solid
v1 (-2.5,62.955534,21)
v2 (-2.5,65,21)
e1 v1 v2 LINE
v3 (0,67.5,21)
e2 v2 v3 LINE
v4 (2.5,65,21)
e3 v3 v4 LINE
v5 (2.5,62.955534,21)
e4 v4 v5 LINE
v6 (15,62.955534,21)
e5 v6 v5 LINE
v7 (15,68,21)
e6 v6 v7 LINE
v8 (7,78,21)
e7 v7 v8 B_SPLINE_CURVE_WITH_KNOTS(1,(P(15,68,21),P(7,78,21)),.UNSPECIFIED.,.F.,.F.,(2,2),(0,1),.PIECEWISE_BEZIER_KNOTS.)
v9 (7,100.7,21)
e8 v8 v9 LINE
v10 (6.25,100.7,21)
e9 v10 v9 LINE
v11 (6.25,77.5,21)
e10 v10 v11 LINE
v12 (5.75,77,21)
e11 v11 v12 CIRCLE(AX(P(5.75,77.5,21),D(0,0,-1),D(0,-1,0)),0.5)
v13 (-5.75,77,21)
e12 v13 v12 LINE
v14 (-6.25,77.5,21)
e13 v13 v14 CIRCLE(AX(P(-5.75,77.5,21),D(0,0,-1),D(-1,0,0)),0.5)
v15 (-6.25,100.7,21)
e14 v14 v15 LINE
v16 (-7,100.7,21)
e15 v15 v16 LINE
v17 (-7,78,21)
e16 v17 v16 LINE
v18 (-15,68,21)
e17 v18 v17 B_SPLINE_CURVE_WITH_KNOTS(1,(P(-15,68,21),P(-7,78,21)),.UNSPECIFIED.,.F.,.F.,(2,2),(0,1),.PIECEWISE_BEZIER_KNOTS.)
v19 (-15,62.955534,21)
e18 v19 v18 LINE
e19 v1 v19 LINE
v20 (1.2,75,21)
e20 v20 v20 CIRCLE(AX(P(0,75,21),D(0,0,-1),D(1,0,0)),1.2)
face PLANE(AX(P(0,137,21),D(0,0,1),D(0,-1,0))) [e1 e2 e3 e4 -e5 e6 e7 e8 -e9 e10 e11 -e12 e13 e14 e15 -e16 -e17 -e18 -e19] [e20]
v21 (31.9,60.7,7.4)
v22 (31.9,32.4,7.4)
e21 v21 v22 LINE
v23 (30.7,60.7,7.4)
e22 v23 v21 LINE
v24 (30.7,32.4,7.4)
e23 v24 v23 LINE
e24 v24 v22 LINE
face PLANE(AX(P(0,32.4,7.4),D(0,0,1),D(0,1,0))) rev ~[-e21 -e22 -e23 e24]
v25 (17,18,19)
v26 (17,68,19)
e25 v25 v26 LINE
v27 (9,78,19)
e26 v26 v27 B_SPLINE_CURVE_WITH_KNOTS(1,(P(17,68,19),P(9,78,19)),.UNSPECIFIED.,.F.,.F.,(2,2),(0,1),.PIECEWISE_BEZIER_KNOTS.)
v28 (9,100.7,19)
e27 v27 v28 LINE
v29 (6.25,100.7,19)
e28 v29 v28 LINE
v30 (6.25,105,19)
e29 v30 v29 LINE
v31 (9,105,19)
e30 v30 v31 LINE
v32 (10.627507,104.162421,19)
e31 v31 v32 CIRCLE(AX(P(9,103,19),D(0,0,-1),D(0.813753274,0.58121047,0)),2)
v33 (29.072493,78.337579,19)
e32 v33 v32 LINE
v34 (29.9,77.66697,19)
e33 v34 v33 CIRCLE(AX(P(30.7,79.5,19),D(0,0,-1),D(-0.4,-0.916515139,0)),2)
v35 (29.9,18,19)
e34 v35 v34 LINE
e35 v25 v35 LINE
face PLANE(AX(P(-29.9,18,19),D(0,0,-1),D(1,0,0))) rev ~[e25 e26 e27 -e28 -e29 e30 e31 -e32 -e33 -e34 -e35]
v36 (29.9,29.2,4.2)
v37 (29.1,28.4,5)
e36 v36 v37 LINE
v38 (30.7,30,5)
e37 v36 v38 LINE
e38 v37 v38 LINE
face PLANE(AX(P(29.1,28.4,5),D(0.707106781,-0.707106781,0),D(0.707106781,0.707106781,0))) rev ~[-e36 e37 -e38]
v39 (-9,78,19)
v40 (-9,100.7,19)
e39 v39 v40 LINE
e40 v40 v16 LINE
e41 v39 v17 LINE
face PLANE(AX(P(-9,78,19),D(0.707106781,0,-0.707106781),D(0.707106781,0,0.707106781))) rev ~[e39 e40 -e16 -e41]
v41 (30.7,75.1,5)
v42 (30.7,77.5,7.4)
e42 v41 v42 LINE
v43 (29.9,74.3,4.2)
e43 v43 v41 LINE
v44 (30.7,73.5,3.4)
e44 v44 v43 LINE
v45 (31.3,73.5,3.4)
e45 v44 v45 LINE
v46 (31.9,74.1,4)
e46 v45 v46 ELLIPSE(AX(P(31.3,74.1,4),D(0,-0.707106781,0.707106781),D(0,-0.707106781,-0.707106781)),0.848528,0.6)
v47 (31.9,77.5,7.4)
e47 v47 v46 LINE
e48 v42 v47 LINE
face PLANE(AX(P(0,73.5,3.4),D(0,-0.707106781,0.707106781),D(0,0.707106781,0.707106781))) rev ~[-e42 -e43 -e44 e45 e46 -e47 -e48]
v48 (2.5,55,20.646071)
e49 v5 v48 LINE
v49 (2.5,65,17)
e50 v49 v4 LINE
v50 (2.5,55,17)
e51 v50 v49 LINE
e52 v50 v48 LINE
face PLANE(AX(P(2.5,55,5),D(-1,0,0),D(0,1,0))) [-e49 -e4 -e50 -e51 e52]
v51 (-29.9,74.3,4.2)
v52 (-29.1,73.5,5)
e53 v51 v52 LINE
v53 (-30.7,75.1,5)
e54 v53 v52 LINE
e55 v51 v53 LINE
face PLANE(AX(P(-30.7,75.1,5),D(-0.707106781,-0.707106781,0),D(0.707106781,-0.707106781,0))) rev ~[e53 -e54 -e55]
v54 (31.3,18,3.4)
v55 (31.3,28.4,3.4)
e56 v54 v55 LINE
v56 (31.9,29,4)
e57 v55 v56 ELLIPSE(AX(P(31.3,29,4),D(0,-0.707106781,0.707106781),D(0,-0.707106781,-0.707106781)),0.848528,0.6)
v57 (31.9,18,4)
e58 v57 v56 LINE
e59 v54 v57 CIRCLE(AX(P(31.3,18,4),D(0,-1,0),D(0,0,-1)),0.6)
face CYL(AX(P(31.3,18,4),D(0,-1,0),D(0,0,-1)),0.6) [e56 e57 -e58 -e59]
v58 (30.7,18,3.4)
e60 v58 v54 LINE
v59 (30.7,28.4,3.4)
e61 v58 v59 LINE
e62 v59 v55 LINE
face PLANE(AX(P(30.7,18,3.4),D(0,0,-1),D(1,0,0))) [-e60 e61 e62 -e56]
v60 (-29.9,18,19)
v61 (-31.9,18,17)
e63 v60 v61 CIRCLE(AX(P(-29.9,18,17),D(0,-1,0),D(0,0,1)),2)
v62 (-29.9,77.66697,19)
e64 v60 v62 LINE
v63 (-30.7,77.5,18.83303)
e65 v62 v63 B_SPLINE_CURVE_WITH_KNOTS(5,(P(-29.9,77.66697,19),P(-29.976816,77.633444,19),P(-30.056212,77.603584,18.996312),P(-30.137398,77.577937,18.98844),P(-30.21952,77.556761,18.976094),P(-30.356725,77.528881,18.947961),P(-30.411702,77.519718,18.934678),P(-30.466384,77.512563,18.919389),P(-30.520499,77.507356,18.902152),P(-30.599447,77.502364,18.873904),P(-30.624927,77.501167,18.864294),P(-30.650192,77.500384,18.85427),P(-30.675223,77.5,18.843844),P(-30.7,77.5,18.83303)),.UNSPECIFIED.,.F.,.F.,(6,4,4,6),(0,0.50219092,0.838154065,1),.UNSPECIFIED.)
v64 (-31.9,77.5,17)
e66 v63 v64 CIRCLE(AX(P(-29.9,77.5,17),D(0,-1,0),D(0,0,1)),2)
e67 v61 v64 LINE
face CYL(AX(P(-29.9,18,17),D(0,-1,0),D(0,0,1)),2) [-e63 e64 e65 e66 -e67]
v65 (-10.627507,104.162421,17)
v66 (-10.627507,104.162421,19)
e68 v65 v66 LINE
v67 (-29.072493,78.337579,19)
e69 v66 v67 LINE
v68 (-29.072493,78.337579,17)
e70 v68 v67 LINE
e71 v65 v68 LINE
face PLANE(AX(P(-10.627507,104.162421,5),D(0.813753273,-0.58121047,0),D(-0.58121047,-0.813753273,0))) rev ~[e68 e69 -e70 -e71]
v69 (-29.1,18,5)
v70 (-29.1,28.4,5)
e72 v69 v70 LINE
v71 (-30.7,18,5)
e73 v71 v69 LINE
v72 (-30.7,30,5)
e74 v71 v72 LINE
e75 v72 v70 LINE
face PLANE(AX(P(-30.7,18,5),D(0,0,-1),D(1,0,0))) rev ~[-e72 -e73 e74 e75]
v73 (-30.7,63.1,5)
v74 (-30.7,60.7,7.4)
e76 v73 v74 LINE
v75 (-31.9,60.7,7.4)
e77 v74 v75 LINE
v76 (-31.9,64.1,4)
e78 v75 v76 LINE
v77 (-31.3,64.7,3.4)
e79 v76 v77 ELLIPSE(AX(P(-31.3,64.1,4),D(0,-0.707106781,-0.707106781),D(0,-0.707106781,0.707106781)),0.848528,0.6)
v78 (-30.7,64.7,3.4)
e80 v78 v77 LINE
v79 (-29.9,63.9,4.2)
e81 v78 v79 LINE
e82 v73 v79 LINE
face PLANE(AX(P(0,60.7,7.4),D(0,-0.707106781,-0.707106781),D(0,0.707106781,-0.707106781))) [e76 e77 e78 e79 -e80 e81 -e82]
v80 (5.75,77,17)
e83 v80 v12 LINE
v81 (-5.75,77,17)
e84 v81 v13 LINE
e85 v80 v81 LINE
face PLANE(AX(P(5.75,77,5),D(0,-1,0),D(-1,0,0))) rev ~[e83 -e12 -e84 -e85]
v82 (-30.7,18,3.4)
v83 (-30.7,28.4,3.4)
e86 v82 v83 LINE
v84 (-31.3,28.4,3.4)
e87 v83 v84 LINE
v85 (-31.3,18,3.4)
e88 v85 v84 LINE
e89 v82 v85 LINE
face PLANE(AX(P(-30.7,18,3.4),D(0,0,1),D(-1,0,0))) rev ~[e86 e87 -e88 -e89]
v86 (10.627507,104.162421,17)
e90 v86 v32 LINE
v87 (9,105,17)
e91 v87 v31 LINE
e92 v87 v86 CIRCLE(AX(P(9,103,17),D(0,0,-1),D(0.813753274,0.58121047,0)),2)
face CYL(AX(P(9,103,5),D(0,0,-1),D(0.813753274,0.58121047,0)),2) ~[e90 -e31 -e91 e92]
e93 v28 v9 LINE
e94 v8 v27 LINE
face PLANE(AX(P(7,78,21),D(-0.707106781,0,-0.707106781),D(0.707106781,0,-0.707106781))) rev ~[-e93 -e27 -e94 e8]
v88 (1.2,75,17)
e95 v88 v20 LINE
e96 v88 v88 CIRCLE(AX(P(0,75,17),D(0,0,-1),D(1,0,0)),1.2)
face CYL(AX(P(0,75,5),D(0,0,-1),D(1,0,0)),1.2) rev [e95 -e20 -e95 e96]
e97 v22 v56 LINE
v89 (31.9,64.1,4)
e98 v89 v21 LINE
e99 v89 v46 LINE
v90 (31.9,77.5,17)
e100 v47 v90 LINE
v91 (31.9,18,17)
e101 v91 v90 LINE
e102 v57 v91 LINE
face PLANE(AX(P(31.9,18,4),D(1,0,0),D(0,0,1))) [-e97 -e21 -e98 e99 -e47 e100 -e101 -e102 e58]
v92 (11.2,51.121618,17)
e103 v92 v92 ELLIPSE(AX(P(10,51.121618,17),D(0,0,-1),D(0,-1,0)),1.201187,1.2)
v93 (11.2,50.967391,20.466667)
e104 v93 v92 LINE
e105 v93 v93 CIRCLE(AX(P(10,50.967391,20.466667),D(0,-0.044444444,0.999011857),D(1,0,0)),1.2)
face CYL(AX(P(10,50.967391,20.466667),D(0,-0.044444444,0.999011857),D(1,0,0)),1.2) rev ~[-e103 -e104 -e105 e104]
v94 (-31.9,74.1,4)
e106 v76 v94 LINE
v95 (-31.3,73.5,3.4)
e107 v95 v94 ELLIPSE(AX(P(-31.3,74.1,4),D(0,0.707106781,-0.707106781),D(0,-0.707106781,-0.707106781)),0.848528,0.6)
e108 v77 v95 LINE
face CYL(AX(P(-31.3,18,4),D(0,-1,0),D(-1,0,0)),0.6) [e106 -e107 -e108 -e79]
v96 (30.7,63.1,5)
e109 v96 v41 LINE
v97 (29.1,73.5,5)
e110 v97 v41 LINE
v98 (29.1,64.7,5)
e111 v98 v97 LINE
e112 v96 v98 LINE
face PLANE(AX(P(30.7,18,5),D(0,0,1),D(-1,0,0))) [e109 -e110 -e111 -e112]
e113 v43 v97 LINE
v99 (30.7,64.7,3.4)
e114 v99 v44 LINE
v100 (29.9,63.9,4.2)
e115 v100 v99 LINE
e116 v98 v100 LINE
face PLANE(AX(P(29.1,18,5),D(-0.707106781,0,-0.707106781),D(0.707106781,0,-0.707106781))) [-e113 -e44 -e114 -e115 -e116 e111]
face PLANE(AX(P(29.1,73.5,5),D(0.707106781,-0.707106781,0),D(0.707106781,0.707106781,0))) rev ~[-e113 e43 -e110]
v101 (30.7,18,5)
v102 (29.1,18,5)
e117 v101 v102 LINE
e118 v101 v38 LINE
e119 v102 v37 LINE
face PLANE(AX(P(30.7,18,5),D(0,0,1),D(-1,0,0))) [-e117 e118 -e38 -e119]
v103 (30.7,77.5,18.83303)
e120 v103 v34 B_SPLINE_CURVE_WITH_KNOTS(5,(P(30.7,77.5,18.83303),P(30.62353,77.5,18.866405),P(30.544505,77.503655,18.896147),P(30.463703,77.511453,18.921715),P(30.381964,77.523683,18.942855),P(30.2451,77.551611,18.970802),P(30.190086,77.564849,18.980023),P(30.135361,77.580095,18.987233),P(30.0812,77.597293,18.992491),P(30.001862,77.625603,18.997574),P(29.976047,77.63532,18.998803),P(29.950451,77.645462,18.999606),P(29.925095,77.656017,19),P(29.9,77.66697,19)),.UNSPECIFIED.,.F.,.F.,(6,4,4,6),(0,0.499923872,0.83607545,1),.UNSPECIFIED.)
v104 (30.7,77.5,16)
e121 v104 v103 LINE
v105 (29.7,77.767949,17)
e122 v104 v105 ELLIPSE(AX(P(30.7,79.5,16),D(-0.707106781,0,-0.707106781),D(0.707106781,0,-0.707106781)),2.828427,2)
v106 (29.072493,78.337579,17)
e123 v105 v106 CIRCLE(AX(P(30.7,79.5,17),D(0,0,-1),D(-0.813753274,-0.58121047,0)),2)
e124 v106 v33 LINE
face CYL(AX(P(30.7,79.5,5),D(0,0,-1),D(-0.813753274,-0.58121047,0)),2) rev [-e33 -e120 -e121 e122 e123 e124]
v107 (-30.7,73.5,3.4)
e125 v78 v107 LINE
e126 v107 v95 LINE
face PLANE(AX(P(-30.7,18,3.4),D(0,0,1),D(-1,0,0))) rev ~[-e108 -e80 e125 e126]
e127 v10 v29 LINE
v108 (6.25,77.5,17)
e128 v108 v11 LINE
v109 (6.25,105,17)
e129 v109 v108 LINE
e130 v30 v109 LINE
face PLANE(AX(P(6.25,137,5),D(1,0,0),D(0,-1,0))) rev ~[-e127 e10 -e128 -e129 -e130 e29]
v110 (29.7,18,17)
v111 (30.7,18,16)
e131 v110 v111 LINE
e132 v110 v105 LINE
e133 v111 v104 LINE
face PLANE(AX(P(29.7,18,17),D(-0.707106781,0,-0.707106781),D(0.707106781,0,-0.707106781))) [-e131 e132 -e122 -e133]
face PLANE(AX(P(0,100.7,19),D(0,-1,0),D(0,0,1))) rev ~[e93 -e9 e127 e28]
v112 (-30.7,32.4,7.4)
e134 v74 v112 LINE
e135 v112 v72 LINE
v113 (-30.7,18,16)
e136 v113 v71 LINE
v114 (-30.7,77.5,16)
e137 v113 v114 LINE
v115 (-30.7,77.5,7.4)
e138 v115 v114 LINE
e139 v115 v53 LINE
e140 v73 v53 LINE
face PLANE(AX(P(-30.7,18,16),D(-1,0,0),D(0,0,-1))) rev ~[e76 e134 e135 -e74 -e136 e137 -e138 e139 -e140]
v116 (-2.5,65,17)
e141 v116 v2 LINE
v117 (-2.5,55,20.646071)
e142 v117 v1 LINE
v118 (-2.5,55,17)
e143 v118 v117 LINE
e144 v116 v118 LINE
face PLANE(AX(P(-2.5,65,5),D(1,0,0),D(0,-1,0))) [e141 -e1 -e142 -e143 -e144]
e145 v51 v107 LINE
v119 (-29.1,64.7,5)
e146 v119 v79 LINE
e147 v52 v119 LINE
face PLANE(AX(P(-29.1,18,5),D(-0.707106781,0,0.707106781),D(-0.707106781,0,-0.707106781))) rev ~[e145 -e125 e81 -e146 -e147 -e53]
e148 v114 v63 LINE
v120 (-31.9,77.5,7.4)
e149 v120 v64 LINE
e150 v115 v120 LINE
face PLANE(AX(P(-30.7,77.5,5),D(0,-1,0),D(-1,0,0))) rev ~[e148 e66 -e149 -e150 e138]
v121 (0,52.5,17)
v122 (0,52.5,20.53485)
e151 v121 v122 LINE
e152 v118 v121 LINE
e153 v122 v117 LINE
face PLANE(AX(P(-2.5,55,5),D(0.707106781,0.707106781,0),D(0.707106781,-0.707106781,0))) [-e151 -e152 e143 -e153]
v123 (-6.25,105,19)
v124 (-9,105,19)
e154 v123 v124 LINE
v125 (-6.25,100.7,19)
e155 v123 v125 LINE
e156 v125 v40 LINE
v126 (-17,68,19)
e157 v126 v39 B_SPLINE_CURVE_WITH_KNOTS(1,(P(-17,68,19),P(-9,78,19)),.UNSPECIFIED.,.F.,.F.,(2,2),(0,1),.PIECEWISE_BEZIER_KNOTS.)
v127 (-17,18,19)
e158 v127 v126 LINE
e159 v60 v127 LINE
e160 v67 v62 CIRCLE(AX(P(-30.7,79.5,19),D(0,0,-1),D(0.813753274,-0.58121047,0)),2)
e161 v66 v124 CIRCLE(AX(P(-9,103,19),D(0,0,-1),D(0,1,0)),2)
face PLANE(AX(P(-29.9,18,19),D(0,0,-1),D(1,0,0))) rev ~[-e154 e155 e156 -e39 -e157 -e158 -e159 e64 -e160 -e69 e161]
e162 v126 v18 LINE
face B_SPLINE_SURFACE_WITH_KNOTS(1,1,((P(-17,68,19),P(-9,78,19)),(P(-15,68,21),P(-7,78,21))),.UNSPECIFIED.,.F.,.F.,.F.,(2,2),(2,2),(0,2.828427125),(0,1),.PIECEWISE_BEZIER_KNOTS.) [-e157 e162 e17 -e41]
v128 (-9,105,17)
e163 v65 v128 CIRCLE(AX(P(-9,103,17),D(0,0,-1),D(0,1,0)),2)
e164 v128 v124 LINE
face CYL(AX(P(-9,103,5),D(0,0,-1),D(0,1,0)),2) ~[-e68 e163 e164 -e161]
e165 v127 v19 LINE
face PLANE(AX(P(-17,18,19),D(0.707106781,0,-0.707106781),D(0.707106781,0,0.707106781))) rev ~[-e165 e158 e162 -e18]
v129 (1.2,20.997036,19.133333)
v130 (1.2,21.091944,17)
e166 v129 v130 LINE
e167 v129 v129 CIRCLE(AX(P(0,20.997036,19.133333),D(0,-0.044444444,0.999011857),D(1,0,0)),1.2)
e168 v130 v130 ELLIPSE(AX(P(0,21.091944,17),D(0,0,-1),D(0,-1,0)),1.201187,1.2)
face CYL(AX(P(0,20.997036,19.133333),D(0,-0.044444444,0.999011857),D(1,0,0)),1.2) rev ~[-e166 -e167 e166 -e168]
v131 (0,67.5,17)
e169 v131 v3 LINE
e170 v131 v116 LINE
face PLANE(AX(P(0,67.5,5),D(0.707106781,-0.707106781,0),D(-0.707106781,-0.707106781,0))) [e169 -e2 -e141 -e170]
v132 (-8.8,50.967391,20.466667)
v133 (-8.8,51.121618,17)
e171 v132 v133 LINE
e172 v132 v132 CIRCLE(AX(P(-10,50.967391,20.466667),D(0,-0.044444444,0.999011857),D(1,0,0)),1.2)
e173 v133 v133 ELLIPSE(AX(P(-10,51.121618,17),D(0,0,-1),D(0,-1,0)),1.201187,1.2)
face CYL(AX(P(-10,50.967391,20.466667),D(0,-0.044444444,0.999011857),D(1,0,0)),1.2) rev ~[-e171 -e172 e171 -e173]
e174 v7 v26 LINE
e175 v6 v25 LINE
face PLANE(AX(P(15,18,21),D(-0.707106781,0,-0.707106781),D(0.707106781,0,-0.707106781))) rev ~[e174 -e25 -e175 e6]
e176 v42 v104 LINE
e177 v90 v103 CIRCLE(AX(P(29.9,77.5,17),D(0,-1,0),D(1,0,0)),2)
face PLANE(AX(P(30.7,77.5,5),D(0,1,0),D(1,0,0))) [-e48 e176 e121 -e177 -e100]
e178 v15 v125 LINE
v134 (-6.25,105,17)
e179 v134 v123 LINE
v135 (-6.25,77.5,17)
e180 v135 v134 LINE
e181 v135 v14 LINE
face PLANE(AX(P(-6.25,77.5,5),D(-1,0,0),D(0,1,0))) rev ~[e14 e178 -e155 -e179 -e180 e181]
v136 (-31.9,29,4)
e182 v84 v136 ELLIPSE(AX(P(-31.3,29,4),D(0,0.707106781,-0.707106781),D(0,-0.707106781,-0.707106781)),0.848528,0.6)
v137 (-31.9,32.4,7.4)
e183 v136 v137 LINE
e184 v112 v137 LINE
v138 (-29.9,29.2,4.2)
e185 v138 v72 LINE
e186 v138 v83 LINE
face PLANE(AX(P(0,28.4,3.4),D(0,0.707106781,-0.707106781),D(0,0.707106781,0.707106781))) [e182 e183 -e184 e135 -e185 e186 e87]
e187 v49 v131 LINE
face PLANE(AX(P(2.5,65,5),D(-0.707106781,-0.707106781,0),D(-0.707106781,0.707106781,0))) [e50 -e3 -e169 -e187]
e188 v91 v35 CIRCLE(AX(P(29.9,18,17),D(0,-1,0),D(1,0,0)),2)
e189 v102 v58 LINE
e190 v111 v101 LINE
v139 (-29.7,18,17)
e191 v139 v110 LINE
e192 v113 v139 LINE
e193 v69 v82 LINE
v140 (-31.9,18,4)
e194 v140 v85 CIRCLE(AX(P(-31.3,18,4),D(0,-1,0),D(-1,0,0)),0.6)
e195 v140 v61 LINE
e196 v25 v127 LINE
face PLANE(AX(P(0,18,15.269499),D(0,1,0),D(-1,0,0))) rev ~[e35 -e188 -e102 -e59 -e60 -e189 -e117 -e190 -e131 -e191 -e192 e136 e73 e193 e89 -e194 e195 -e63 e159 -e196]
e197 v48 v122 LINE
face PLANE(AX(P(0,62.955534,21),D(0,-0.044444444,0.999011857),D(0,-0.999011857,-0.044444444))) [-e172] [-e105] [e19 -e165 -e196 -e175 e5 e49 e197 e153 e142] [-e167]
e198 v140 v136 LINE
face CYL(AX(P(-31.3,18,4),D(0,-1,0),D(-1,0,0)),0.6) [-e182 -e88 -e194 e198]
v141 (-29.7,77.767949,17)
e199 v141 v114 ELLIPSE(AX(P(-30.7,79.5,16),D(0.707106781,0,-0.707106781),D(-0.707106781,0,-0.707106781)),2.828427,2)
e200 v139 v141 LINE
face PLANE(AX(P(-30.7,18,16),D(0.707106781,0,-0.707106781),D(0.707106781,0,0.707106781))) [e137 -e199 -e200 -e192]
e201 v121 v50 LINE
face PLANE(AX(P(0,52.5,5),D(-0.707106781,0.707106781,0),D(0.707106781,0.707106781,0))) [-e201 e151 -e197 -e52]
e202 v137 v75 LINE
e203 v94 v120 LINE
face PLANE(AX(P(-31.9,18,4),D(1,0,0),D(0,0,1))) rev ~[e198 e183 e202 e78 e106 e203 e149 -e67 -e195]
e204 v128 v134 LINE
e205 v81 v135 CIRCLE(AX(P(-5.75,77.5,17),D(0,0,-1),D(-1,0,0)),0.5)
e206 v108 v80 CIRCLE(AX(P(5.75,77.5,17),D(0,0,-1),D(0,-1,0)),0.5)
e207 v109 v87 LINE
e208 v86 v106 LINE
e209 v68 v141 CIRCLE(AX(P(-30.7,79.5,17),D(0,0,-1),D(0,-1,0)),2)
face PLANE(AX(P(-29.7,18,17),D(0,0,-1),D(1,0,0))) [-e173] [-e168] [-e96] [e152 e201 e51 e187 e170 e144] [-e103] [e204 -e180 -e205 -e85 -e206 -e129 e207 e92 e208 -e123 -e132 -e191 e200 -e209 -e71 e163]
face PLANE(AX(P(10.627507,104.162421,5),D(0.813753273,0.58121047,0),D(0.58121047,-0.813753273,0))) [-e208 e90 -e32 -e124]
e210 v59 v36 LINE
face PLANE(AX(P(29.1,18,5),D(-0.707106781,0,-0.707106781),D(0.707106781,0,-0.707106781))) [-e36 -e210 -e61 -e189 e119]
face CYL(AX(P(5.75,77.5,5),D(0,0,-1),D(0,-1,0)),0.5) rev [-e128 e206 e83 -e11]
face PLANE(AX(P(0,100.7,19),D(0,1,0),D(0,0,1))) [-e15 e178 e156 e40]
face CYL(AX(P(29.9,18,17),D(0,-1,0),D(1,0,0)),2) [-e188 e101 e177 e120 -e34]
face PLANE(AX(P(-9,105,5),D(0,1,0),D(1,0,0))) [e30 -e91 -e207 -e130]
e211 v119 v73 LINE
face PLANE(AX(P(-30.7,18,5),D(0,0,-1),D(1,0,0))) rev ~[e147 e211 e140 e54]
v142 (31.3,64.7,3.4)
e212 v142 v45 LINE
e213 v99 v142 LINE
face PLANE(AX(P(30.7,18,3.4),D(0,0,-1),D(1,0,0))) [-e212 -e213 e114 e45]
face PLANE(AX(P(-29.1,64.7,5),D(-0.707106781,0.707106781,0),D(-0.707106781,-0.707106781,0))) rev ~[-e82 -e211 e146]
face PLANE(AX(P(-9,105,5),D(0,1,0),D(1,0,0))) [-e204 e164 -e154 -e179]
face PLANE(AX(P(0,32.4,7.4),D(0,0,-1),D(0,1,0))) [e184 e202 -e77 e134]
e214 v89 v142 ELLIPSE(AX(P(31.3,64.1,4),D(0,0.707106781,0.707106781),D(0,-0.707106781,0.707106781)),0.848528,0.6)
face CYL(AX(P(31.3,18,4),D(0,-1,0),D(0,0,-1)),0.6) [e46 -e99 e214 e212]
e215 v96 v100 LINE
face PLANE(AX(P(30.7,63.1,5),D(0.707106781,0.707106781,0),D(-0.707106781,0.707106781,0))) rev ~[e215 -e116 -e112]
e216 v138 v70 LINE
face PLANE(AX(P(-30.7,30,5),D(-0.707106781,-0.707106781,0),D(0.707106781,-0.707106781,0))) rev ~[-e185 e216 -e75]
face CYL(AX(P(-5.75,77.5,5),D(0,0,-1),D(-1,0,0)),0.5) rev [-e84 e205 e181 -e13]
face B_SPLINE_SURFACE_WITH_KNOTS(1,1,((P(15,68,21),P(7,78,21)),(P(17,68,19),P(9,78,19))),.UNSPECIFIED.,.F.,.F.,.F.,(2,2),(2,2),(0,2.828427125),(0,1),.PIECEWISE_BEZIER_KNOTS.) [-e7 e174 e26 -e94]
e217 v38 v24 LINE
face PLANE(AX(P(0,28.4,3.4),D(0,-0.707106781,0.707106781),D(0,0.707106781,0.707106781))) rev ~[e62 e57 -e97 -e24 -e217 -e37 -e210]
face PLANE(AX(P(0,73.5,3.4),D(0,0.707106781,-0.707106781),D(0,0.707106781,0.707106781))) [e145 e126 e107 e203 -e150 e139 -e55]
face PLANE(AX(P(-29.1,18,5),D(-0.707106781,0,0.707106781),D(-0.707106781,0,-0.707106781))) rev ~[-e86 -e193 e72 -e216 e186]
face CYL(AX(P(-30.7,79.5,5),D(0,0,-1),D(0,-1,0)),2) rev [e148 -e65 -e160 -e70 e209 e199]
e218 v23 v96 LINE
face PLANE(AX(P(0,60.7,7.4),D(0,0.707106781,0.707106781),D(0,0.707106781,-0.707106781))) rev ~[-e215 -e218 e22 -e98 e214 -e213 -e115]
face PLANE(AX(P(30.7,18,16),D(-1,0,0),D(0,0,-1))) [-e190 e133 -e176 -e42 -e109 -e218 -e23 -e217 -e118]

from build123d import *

# Parameters (mm, degrees)
PAD002_DEPTH         = 119
PAD003_DEPTH         = 17
POCKET015_DEPTH      = 119.001
SKETCH040_R          = 1.2
POCKET016_DEPTH      = 20.8744738654
POCKET017_DEPTH      = 16.001
POCKET018_DEPTH      = 16.001
POCKET018_DEPTH_BACK = 1.601
SKETCH044_R          = 1.2
POCKET019_DEPTH      = 1.601
POCKET019_DEPTH_BACK = 16.001
POCKET020_DEPTH      = 27.001
SKETCH048_W          = 4.3
SKETCH048_H          = 2
POCKET021_DEPTH      = 31.9010001
POCKET021_DEPTH_BACK = 31.9010001
POCKET023_DEPTH      = 31.9010001
POCKET023_DEPTH_BACK = 31.9010001
POCKET024_DEPTH      = 1.601


with BuildPart() as part:
    # Sketch033 → Pad002 (new body)
    with BuildSketch(Plane.XZ):
        with BuildLine():
            Line((-30.7, 11), (-30.7, 0))
            Line((-30.7, 0), (-29.1, 0))
            Line((-29.1, 0), (-30.7, -1.6))
            Line((-30.7, -1.6), (-31.3, -1.6))
            ThreePointArc((-31.9, -1), (-31.7242640687, -1.4242640687), (-31.3, -1.6))
            Line((-31.9, -1), (-31.9, 12))
            ThreePointArc((-29.9, 14), (-31.3142135624, 13.4142135624), (-31.9, 12))
            Line((-29.9, 14), (29.9, 14))
            ThreePointArc((31.9, 12), (31.3142135624, 13.4142135624), (29.9, 14))
            Line((31.9, -1), (31.9, 12))
            ThreePointArc((31.3, -1.6), (31.7242640687, -1.4242640687), (31.9, -1))
            Line((30.7, -1.6), (31.3, -1.6))
            Line((29.1, 0), (30.7, -1.6))
            Line((30.7, 0), (29.1, 0))
            Line((30.7, 11), (30.7, 0))
            Line((29.7, 12), (30.7, 11))
            Line((-29.7, 12), (29.7, 12))
            Line((-30.7, 11), (-29.7, 12))
        make_face()
    extrude(amount=-PAD002_DEPTH)

    # Sketch034 → Pad003 (join, symmetric)
    with BuildSketch(Plane.YZ):
        Polygon((0, 14), (119, 14), (119, 16), (44.955533586, 16), align=None)
    extrude(amount=PAD003_DEPTH, both=True)

    # Sketch039 → Pocket015 (cut, through all)
    with BuildSketch(Plane.XZ):
        Polygon((-17, 14), (-15, 16), (15, 16), (17, 14), (31.9, 14), (31.9, 26), (-31.9, 26), (-31.9, 14), align=None)
    extrude(amount=-POCKET015_DEPTH, mode=Mode.SUBTRACT)

    # Sketch040 (on DatumPlane) → Pocket016 (cut, through all)
    with BuildSketch(Plane(origin=(0, 0, 14), x_dir=(1, 0, 0), z_dir=(0, -0.0444444444, 0.9990118575))):
        with Locations((-10, 33)):
            Circle(SKETCH040_R)
        with Locations((10, 33)):
            Circle(SKETCH040_R)
        with Locations((0, 3)):
            Circle(SKETCH040_R)
    extrude(amount=-POCKET016_DEPTH, mode=Mode.SUBTRACT)

    # Sketch041 → Pocket017 (cut, through all)
    with BuildSketch(Plane.XY):
        Polygon((0, 49.5), (-2.5, 47), (-2.5, 37), (0, 34.5), (2.5, 37), (2.5, 47), align=None)
    extrude(amount=POCKET017_DEPTH, mode=Mode.SUBTRACT)

    # Sketch043 → Pocket018 (cut, two sides)
    with BuildSketch(Plane.XY) as pocket018_sk:
        with BuildLine():
            Line((-9, 87), (9, 87))
            ThreePointArc((10.6275065469, 86.1624209391), (9.9151934555, 86.7783196954), (9, 87))
            Line((10.6275065469, 86.1624209391), (29.0724934531, 60.3375790609))
            ThreePointArc((29.0724934531, 60.3375790609), (29.7848065445, 59.7216803046), (30.7, 59.5))
            Line((30.7, 59.5), (61.4, 59.5))
            Line((61.4, 119), (61.4, 59.5))
            Line((-61.4, 119), (61.4, 119))
            Line((-61.4, 59.5), (-61.4, 119))
            Line((-30.7, 59.5), (-61.4, 59.5))
            ThreePointArc((-30.7, 59.5), (-29.7848065445, 59.7216803046), (-29.0724934531, 60.3375790609))
            Line((-10.6275065469, 86.1624209391), (-29.0724934531, 60.3375790609))
            ThreePointArc((-9, 87), (-9.9151934555, 86.7783196954), (-10.6275065469, 86.1624209391))
        make_face()
    extrude(amount=POCKET018_DEPTH, mode=Mode.SUBTRACT)
    extrude(pocket018_sk.sketch, amount=-POCKET018_DEPTH_BACK, mode=Mode.SUBTRACT)

    # Sketch044 → Pocket019 (cut, two sides)
    with BuildSketch(Plane.XY) as pocket019_sk:
        with Locations((0, 57)):
            Circle(SKETCH044_R)
        with BuildLine():
            Line((-6.25, 119), (6.25, 119))
            Line((6.25, 119), (6.25, 59.5))
            ThreePointArc((5.75, 59), (6.1035533906, 59.1464466094), (6.25, 59.5))
            Line((5.75, 59), (-5.75, 59))
            ThreePointArc((-6.25, 59.5), (-6.1035533906, 59.1464466094), (-5.75, 59))
            Line((-6.25, 59.5), (-6.25, 119))
        make_face()
    extrude(amount=-POCKET019_DEPTH, mode=Mode.SUBTRACT)
    extrude(pocket019_sk.sketch, amount=POCKET019_DEPTH_BACK, mode=Mode.SUBTRACT)

    # Sketch045 (on DatumPlane) → SubtractiveLoft001 section 0
    with BuildSketch(Plane.XZ.offset(-50)):
        Polygon((-17, 14), (-15, 16), (15, 16), (17, 14), (31.9, 14), (31.9, 26), (-31.9, 26), (-31.9, 14), align=None)
    # Sketch046 (on DatumPlane) → SubtractiveLoft001 section 1
    with BuildSketch(Plane.XZ.offset(-60)):
        Polygon((-9, 14), (-7, 16), (7, 16), (9, 14), (31.9, 14), (31.9, 26), (-31.9, 26), (-31.9, 14), align=None)
    loft(mode=Mode.SUBTRACT)

    # Sketch047 (on DatumPlane) → Pocket020 (cut, through all)
    with BuildSketch(Plane.XZ.offset(-60)):
        Polygon((-9, 14), (-7, 16), (7, 16), (9, 14), (31.9, 14), (31.9, 26), (-31.9, 26), (-31.9, 14), align=None)
    extrude(amount=-POCKET020_DEPTH, mode=Mode.SUBTRACT)

    # Sketch048 → Pocket021 (cut, two sides)
    with BuildSketch(Plane.YZ) as pocket021_sk:
        with Locations((84.85, 15)):
            Rectangle(SKETCH048_W, SKETCH048_H)
    extrude(amount=-POCKET021_DEPTH, mode=Mode.SUBTRACT)
    extrude(pocket021_sk.sketch, amount=POCKET021_DEPTH_BACK, mode=Mode.SUBTRACT)

    # Sketch051 → Pocket023 (cut, two sides)
    with BuildSketch(Plane.YZ) as pocket023_sk:
        Polygon((0, -1.6), (10.4, -1.6), (14.4, 2.4), (42.7, 2.4), (46.7, -1.6), (55.5, -1.6), (59.5, 2.4), (63.5, 2.4), (63.5, -13.6), (0, -13.6), align=None)
    extrude(amount=-POCKET023_DEPTH, mode=Mode.SUBTRACT)
    extrude(pocket023_sk.sketch, amount=POCKET023_DEPTH_BACK, mode=Mode.SUBTRACT)

    # Sketch052 → Pocket024 (cut, through all)
    with BuildSketch(Plane.XY):
        Polygon((-29.1, 10.4), (29.1, 10.4), (30.7, 12), (30.7, 45.1), (29.1, 46.7), (29.1, 55.5), (30.7, 57.1), (30.7, 69.1), (-30.7, 69.1), (-30.7, 57.1), (-29.1, 55.5), (-29.1, 46.7), (-30.7, 45.1), (-30.7, 12), align=None)
    extrude(amount=-POCKET024_DEPTH, mode=Mode.SUBTRACT)


with BuildPart() as part_1:
    # Body002 placement: moved
    add(part.part.moved(Location((0, 18, 5))))


solid = part_1.part
